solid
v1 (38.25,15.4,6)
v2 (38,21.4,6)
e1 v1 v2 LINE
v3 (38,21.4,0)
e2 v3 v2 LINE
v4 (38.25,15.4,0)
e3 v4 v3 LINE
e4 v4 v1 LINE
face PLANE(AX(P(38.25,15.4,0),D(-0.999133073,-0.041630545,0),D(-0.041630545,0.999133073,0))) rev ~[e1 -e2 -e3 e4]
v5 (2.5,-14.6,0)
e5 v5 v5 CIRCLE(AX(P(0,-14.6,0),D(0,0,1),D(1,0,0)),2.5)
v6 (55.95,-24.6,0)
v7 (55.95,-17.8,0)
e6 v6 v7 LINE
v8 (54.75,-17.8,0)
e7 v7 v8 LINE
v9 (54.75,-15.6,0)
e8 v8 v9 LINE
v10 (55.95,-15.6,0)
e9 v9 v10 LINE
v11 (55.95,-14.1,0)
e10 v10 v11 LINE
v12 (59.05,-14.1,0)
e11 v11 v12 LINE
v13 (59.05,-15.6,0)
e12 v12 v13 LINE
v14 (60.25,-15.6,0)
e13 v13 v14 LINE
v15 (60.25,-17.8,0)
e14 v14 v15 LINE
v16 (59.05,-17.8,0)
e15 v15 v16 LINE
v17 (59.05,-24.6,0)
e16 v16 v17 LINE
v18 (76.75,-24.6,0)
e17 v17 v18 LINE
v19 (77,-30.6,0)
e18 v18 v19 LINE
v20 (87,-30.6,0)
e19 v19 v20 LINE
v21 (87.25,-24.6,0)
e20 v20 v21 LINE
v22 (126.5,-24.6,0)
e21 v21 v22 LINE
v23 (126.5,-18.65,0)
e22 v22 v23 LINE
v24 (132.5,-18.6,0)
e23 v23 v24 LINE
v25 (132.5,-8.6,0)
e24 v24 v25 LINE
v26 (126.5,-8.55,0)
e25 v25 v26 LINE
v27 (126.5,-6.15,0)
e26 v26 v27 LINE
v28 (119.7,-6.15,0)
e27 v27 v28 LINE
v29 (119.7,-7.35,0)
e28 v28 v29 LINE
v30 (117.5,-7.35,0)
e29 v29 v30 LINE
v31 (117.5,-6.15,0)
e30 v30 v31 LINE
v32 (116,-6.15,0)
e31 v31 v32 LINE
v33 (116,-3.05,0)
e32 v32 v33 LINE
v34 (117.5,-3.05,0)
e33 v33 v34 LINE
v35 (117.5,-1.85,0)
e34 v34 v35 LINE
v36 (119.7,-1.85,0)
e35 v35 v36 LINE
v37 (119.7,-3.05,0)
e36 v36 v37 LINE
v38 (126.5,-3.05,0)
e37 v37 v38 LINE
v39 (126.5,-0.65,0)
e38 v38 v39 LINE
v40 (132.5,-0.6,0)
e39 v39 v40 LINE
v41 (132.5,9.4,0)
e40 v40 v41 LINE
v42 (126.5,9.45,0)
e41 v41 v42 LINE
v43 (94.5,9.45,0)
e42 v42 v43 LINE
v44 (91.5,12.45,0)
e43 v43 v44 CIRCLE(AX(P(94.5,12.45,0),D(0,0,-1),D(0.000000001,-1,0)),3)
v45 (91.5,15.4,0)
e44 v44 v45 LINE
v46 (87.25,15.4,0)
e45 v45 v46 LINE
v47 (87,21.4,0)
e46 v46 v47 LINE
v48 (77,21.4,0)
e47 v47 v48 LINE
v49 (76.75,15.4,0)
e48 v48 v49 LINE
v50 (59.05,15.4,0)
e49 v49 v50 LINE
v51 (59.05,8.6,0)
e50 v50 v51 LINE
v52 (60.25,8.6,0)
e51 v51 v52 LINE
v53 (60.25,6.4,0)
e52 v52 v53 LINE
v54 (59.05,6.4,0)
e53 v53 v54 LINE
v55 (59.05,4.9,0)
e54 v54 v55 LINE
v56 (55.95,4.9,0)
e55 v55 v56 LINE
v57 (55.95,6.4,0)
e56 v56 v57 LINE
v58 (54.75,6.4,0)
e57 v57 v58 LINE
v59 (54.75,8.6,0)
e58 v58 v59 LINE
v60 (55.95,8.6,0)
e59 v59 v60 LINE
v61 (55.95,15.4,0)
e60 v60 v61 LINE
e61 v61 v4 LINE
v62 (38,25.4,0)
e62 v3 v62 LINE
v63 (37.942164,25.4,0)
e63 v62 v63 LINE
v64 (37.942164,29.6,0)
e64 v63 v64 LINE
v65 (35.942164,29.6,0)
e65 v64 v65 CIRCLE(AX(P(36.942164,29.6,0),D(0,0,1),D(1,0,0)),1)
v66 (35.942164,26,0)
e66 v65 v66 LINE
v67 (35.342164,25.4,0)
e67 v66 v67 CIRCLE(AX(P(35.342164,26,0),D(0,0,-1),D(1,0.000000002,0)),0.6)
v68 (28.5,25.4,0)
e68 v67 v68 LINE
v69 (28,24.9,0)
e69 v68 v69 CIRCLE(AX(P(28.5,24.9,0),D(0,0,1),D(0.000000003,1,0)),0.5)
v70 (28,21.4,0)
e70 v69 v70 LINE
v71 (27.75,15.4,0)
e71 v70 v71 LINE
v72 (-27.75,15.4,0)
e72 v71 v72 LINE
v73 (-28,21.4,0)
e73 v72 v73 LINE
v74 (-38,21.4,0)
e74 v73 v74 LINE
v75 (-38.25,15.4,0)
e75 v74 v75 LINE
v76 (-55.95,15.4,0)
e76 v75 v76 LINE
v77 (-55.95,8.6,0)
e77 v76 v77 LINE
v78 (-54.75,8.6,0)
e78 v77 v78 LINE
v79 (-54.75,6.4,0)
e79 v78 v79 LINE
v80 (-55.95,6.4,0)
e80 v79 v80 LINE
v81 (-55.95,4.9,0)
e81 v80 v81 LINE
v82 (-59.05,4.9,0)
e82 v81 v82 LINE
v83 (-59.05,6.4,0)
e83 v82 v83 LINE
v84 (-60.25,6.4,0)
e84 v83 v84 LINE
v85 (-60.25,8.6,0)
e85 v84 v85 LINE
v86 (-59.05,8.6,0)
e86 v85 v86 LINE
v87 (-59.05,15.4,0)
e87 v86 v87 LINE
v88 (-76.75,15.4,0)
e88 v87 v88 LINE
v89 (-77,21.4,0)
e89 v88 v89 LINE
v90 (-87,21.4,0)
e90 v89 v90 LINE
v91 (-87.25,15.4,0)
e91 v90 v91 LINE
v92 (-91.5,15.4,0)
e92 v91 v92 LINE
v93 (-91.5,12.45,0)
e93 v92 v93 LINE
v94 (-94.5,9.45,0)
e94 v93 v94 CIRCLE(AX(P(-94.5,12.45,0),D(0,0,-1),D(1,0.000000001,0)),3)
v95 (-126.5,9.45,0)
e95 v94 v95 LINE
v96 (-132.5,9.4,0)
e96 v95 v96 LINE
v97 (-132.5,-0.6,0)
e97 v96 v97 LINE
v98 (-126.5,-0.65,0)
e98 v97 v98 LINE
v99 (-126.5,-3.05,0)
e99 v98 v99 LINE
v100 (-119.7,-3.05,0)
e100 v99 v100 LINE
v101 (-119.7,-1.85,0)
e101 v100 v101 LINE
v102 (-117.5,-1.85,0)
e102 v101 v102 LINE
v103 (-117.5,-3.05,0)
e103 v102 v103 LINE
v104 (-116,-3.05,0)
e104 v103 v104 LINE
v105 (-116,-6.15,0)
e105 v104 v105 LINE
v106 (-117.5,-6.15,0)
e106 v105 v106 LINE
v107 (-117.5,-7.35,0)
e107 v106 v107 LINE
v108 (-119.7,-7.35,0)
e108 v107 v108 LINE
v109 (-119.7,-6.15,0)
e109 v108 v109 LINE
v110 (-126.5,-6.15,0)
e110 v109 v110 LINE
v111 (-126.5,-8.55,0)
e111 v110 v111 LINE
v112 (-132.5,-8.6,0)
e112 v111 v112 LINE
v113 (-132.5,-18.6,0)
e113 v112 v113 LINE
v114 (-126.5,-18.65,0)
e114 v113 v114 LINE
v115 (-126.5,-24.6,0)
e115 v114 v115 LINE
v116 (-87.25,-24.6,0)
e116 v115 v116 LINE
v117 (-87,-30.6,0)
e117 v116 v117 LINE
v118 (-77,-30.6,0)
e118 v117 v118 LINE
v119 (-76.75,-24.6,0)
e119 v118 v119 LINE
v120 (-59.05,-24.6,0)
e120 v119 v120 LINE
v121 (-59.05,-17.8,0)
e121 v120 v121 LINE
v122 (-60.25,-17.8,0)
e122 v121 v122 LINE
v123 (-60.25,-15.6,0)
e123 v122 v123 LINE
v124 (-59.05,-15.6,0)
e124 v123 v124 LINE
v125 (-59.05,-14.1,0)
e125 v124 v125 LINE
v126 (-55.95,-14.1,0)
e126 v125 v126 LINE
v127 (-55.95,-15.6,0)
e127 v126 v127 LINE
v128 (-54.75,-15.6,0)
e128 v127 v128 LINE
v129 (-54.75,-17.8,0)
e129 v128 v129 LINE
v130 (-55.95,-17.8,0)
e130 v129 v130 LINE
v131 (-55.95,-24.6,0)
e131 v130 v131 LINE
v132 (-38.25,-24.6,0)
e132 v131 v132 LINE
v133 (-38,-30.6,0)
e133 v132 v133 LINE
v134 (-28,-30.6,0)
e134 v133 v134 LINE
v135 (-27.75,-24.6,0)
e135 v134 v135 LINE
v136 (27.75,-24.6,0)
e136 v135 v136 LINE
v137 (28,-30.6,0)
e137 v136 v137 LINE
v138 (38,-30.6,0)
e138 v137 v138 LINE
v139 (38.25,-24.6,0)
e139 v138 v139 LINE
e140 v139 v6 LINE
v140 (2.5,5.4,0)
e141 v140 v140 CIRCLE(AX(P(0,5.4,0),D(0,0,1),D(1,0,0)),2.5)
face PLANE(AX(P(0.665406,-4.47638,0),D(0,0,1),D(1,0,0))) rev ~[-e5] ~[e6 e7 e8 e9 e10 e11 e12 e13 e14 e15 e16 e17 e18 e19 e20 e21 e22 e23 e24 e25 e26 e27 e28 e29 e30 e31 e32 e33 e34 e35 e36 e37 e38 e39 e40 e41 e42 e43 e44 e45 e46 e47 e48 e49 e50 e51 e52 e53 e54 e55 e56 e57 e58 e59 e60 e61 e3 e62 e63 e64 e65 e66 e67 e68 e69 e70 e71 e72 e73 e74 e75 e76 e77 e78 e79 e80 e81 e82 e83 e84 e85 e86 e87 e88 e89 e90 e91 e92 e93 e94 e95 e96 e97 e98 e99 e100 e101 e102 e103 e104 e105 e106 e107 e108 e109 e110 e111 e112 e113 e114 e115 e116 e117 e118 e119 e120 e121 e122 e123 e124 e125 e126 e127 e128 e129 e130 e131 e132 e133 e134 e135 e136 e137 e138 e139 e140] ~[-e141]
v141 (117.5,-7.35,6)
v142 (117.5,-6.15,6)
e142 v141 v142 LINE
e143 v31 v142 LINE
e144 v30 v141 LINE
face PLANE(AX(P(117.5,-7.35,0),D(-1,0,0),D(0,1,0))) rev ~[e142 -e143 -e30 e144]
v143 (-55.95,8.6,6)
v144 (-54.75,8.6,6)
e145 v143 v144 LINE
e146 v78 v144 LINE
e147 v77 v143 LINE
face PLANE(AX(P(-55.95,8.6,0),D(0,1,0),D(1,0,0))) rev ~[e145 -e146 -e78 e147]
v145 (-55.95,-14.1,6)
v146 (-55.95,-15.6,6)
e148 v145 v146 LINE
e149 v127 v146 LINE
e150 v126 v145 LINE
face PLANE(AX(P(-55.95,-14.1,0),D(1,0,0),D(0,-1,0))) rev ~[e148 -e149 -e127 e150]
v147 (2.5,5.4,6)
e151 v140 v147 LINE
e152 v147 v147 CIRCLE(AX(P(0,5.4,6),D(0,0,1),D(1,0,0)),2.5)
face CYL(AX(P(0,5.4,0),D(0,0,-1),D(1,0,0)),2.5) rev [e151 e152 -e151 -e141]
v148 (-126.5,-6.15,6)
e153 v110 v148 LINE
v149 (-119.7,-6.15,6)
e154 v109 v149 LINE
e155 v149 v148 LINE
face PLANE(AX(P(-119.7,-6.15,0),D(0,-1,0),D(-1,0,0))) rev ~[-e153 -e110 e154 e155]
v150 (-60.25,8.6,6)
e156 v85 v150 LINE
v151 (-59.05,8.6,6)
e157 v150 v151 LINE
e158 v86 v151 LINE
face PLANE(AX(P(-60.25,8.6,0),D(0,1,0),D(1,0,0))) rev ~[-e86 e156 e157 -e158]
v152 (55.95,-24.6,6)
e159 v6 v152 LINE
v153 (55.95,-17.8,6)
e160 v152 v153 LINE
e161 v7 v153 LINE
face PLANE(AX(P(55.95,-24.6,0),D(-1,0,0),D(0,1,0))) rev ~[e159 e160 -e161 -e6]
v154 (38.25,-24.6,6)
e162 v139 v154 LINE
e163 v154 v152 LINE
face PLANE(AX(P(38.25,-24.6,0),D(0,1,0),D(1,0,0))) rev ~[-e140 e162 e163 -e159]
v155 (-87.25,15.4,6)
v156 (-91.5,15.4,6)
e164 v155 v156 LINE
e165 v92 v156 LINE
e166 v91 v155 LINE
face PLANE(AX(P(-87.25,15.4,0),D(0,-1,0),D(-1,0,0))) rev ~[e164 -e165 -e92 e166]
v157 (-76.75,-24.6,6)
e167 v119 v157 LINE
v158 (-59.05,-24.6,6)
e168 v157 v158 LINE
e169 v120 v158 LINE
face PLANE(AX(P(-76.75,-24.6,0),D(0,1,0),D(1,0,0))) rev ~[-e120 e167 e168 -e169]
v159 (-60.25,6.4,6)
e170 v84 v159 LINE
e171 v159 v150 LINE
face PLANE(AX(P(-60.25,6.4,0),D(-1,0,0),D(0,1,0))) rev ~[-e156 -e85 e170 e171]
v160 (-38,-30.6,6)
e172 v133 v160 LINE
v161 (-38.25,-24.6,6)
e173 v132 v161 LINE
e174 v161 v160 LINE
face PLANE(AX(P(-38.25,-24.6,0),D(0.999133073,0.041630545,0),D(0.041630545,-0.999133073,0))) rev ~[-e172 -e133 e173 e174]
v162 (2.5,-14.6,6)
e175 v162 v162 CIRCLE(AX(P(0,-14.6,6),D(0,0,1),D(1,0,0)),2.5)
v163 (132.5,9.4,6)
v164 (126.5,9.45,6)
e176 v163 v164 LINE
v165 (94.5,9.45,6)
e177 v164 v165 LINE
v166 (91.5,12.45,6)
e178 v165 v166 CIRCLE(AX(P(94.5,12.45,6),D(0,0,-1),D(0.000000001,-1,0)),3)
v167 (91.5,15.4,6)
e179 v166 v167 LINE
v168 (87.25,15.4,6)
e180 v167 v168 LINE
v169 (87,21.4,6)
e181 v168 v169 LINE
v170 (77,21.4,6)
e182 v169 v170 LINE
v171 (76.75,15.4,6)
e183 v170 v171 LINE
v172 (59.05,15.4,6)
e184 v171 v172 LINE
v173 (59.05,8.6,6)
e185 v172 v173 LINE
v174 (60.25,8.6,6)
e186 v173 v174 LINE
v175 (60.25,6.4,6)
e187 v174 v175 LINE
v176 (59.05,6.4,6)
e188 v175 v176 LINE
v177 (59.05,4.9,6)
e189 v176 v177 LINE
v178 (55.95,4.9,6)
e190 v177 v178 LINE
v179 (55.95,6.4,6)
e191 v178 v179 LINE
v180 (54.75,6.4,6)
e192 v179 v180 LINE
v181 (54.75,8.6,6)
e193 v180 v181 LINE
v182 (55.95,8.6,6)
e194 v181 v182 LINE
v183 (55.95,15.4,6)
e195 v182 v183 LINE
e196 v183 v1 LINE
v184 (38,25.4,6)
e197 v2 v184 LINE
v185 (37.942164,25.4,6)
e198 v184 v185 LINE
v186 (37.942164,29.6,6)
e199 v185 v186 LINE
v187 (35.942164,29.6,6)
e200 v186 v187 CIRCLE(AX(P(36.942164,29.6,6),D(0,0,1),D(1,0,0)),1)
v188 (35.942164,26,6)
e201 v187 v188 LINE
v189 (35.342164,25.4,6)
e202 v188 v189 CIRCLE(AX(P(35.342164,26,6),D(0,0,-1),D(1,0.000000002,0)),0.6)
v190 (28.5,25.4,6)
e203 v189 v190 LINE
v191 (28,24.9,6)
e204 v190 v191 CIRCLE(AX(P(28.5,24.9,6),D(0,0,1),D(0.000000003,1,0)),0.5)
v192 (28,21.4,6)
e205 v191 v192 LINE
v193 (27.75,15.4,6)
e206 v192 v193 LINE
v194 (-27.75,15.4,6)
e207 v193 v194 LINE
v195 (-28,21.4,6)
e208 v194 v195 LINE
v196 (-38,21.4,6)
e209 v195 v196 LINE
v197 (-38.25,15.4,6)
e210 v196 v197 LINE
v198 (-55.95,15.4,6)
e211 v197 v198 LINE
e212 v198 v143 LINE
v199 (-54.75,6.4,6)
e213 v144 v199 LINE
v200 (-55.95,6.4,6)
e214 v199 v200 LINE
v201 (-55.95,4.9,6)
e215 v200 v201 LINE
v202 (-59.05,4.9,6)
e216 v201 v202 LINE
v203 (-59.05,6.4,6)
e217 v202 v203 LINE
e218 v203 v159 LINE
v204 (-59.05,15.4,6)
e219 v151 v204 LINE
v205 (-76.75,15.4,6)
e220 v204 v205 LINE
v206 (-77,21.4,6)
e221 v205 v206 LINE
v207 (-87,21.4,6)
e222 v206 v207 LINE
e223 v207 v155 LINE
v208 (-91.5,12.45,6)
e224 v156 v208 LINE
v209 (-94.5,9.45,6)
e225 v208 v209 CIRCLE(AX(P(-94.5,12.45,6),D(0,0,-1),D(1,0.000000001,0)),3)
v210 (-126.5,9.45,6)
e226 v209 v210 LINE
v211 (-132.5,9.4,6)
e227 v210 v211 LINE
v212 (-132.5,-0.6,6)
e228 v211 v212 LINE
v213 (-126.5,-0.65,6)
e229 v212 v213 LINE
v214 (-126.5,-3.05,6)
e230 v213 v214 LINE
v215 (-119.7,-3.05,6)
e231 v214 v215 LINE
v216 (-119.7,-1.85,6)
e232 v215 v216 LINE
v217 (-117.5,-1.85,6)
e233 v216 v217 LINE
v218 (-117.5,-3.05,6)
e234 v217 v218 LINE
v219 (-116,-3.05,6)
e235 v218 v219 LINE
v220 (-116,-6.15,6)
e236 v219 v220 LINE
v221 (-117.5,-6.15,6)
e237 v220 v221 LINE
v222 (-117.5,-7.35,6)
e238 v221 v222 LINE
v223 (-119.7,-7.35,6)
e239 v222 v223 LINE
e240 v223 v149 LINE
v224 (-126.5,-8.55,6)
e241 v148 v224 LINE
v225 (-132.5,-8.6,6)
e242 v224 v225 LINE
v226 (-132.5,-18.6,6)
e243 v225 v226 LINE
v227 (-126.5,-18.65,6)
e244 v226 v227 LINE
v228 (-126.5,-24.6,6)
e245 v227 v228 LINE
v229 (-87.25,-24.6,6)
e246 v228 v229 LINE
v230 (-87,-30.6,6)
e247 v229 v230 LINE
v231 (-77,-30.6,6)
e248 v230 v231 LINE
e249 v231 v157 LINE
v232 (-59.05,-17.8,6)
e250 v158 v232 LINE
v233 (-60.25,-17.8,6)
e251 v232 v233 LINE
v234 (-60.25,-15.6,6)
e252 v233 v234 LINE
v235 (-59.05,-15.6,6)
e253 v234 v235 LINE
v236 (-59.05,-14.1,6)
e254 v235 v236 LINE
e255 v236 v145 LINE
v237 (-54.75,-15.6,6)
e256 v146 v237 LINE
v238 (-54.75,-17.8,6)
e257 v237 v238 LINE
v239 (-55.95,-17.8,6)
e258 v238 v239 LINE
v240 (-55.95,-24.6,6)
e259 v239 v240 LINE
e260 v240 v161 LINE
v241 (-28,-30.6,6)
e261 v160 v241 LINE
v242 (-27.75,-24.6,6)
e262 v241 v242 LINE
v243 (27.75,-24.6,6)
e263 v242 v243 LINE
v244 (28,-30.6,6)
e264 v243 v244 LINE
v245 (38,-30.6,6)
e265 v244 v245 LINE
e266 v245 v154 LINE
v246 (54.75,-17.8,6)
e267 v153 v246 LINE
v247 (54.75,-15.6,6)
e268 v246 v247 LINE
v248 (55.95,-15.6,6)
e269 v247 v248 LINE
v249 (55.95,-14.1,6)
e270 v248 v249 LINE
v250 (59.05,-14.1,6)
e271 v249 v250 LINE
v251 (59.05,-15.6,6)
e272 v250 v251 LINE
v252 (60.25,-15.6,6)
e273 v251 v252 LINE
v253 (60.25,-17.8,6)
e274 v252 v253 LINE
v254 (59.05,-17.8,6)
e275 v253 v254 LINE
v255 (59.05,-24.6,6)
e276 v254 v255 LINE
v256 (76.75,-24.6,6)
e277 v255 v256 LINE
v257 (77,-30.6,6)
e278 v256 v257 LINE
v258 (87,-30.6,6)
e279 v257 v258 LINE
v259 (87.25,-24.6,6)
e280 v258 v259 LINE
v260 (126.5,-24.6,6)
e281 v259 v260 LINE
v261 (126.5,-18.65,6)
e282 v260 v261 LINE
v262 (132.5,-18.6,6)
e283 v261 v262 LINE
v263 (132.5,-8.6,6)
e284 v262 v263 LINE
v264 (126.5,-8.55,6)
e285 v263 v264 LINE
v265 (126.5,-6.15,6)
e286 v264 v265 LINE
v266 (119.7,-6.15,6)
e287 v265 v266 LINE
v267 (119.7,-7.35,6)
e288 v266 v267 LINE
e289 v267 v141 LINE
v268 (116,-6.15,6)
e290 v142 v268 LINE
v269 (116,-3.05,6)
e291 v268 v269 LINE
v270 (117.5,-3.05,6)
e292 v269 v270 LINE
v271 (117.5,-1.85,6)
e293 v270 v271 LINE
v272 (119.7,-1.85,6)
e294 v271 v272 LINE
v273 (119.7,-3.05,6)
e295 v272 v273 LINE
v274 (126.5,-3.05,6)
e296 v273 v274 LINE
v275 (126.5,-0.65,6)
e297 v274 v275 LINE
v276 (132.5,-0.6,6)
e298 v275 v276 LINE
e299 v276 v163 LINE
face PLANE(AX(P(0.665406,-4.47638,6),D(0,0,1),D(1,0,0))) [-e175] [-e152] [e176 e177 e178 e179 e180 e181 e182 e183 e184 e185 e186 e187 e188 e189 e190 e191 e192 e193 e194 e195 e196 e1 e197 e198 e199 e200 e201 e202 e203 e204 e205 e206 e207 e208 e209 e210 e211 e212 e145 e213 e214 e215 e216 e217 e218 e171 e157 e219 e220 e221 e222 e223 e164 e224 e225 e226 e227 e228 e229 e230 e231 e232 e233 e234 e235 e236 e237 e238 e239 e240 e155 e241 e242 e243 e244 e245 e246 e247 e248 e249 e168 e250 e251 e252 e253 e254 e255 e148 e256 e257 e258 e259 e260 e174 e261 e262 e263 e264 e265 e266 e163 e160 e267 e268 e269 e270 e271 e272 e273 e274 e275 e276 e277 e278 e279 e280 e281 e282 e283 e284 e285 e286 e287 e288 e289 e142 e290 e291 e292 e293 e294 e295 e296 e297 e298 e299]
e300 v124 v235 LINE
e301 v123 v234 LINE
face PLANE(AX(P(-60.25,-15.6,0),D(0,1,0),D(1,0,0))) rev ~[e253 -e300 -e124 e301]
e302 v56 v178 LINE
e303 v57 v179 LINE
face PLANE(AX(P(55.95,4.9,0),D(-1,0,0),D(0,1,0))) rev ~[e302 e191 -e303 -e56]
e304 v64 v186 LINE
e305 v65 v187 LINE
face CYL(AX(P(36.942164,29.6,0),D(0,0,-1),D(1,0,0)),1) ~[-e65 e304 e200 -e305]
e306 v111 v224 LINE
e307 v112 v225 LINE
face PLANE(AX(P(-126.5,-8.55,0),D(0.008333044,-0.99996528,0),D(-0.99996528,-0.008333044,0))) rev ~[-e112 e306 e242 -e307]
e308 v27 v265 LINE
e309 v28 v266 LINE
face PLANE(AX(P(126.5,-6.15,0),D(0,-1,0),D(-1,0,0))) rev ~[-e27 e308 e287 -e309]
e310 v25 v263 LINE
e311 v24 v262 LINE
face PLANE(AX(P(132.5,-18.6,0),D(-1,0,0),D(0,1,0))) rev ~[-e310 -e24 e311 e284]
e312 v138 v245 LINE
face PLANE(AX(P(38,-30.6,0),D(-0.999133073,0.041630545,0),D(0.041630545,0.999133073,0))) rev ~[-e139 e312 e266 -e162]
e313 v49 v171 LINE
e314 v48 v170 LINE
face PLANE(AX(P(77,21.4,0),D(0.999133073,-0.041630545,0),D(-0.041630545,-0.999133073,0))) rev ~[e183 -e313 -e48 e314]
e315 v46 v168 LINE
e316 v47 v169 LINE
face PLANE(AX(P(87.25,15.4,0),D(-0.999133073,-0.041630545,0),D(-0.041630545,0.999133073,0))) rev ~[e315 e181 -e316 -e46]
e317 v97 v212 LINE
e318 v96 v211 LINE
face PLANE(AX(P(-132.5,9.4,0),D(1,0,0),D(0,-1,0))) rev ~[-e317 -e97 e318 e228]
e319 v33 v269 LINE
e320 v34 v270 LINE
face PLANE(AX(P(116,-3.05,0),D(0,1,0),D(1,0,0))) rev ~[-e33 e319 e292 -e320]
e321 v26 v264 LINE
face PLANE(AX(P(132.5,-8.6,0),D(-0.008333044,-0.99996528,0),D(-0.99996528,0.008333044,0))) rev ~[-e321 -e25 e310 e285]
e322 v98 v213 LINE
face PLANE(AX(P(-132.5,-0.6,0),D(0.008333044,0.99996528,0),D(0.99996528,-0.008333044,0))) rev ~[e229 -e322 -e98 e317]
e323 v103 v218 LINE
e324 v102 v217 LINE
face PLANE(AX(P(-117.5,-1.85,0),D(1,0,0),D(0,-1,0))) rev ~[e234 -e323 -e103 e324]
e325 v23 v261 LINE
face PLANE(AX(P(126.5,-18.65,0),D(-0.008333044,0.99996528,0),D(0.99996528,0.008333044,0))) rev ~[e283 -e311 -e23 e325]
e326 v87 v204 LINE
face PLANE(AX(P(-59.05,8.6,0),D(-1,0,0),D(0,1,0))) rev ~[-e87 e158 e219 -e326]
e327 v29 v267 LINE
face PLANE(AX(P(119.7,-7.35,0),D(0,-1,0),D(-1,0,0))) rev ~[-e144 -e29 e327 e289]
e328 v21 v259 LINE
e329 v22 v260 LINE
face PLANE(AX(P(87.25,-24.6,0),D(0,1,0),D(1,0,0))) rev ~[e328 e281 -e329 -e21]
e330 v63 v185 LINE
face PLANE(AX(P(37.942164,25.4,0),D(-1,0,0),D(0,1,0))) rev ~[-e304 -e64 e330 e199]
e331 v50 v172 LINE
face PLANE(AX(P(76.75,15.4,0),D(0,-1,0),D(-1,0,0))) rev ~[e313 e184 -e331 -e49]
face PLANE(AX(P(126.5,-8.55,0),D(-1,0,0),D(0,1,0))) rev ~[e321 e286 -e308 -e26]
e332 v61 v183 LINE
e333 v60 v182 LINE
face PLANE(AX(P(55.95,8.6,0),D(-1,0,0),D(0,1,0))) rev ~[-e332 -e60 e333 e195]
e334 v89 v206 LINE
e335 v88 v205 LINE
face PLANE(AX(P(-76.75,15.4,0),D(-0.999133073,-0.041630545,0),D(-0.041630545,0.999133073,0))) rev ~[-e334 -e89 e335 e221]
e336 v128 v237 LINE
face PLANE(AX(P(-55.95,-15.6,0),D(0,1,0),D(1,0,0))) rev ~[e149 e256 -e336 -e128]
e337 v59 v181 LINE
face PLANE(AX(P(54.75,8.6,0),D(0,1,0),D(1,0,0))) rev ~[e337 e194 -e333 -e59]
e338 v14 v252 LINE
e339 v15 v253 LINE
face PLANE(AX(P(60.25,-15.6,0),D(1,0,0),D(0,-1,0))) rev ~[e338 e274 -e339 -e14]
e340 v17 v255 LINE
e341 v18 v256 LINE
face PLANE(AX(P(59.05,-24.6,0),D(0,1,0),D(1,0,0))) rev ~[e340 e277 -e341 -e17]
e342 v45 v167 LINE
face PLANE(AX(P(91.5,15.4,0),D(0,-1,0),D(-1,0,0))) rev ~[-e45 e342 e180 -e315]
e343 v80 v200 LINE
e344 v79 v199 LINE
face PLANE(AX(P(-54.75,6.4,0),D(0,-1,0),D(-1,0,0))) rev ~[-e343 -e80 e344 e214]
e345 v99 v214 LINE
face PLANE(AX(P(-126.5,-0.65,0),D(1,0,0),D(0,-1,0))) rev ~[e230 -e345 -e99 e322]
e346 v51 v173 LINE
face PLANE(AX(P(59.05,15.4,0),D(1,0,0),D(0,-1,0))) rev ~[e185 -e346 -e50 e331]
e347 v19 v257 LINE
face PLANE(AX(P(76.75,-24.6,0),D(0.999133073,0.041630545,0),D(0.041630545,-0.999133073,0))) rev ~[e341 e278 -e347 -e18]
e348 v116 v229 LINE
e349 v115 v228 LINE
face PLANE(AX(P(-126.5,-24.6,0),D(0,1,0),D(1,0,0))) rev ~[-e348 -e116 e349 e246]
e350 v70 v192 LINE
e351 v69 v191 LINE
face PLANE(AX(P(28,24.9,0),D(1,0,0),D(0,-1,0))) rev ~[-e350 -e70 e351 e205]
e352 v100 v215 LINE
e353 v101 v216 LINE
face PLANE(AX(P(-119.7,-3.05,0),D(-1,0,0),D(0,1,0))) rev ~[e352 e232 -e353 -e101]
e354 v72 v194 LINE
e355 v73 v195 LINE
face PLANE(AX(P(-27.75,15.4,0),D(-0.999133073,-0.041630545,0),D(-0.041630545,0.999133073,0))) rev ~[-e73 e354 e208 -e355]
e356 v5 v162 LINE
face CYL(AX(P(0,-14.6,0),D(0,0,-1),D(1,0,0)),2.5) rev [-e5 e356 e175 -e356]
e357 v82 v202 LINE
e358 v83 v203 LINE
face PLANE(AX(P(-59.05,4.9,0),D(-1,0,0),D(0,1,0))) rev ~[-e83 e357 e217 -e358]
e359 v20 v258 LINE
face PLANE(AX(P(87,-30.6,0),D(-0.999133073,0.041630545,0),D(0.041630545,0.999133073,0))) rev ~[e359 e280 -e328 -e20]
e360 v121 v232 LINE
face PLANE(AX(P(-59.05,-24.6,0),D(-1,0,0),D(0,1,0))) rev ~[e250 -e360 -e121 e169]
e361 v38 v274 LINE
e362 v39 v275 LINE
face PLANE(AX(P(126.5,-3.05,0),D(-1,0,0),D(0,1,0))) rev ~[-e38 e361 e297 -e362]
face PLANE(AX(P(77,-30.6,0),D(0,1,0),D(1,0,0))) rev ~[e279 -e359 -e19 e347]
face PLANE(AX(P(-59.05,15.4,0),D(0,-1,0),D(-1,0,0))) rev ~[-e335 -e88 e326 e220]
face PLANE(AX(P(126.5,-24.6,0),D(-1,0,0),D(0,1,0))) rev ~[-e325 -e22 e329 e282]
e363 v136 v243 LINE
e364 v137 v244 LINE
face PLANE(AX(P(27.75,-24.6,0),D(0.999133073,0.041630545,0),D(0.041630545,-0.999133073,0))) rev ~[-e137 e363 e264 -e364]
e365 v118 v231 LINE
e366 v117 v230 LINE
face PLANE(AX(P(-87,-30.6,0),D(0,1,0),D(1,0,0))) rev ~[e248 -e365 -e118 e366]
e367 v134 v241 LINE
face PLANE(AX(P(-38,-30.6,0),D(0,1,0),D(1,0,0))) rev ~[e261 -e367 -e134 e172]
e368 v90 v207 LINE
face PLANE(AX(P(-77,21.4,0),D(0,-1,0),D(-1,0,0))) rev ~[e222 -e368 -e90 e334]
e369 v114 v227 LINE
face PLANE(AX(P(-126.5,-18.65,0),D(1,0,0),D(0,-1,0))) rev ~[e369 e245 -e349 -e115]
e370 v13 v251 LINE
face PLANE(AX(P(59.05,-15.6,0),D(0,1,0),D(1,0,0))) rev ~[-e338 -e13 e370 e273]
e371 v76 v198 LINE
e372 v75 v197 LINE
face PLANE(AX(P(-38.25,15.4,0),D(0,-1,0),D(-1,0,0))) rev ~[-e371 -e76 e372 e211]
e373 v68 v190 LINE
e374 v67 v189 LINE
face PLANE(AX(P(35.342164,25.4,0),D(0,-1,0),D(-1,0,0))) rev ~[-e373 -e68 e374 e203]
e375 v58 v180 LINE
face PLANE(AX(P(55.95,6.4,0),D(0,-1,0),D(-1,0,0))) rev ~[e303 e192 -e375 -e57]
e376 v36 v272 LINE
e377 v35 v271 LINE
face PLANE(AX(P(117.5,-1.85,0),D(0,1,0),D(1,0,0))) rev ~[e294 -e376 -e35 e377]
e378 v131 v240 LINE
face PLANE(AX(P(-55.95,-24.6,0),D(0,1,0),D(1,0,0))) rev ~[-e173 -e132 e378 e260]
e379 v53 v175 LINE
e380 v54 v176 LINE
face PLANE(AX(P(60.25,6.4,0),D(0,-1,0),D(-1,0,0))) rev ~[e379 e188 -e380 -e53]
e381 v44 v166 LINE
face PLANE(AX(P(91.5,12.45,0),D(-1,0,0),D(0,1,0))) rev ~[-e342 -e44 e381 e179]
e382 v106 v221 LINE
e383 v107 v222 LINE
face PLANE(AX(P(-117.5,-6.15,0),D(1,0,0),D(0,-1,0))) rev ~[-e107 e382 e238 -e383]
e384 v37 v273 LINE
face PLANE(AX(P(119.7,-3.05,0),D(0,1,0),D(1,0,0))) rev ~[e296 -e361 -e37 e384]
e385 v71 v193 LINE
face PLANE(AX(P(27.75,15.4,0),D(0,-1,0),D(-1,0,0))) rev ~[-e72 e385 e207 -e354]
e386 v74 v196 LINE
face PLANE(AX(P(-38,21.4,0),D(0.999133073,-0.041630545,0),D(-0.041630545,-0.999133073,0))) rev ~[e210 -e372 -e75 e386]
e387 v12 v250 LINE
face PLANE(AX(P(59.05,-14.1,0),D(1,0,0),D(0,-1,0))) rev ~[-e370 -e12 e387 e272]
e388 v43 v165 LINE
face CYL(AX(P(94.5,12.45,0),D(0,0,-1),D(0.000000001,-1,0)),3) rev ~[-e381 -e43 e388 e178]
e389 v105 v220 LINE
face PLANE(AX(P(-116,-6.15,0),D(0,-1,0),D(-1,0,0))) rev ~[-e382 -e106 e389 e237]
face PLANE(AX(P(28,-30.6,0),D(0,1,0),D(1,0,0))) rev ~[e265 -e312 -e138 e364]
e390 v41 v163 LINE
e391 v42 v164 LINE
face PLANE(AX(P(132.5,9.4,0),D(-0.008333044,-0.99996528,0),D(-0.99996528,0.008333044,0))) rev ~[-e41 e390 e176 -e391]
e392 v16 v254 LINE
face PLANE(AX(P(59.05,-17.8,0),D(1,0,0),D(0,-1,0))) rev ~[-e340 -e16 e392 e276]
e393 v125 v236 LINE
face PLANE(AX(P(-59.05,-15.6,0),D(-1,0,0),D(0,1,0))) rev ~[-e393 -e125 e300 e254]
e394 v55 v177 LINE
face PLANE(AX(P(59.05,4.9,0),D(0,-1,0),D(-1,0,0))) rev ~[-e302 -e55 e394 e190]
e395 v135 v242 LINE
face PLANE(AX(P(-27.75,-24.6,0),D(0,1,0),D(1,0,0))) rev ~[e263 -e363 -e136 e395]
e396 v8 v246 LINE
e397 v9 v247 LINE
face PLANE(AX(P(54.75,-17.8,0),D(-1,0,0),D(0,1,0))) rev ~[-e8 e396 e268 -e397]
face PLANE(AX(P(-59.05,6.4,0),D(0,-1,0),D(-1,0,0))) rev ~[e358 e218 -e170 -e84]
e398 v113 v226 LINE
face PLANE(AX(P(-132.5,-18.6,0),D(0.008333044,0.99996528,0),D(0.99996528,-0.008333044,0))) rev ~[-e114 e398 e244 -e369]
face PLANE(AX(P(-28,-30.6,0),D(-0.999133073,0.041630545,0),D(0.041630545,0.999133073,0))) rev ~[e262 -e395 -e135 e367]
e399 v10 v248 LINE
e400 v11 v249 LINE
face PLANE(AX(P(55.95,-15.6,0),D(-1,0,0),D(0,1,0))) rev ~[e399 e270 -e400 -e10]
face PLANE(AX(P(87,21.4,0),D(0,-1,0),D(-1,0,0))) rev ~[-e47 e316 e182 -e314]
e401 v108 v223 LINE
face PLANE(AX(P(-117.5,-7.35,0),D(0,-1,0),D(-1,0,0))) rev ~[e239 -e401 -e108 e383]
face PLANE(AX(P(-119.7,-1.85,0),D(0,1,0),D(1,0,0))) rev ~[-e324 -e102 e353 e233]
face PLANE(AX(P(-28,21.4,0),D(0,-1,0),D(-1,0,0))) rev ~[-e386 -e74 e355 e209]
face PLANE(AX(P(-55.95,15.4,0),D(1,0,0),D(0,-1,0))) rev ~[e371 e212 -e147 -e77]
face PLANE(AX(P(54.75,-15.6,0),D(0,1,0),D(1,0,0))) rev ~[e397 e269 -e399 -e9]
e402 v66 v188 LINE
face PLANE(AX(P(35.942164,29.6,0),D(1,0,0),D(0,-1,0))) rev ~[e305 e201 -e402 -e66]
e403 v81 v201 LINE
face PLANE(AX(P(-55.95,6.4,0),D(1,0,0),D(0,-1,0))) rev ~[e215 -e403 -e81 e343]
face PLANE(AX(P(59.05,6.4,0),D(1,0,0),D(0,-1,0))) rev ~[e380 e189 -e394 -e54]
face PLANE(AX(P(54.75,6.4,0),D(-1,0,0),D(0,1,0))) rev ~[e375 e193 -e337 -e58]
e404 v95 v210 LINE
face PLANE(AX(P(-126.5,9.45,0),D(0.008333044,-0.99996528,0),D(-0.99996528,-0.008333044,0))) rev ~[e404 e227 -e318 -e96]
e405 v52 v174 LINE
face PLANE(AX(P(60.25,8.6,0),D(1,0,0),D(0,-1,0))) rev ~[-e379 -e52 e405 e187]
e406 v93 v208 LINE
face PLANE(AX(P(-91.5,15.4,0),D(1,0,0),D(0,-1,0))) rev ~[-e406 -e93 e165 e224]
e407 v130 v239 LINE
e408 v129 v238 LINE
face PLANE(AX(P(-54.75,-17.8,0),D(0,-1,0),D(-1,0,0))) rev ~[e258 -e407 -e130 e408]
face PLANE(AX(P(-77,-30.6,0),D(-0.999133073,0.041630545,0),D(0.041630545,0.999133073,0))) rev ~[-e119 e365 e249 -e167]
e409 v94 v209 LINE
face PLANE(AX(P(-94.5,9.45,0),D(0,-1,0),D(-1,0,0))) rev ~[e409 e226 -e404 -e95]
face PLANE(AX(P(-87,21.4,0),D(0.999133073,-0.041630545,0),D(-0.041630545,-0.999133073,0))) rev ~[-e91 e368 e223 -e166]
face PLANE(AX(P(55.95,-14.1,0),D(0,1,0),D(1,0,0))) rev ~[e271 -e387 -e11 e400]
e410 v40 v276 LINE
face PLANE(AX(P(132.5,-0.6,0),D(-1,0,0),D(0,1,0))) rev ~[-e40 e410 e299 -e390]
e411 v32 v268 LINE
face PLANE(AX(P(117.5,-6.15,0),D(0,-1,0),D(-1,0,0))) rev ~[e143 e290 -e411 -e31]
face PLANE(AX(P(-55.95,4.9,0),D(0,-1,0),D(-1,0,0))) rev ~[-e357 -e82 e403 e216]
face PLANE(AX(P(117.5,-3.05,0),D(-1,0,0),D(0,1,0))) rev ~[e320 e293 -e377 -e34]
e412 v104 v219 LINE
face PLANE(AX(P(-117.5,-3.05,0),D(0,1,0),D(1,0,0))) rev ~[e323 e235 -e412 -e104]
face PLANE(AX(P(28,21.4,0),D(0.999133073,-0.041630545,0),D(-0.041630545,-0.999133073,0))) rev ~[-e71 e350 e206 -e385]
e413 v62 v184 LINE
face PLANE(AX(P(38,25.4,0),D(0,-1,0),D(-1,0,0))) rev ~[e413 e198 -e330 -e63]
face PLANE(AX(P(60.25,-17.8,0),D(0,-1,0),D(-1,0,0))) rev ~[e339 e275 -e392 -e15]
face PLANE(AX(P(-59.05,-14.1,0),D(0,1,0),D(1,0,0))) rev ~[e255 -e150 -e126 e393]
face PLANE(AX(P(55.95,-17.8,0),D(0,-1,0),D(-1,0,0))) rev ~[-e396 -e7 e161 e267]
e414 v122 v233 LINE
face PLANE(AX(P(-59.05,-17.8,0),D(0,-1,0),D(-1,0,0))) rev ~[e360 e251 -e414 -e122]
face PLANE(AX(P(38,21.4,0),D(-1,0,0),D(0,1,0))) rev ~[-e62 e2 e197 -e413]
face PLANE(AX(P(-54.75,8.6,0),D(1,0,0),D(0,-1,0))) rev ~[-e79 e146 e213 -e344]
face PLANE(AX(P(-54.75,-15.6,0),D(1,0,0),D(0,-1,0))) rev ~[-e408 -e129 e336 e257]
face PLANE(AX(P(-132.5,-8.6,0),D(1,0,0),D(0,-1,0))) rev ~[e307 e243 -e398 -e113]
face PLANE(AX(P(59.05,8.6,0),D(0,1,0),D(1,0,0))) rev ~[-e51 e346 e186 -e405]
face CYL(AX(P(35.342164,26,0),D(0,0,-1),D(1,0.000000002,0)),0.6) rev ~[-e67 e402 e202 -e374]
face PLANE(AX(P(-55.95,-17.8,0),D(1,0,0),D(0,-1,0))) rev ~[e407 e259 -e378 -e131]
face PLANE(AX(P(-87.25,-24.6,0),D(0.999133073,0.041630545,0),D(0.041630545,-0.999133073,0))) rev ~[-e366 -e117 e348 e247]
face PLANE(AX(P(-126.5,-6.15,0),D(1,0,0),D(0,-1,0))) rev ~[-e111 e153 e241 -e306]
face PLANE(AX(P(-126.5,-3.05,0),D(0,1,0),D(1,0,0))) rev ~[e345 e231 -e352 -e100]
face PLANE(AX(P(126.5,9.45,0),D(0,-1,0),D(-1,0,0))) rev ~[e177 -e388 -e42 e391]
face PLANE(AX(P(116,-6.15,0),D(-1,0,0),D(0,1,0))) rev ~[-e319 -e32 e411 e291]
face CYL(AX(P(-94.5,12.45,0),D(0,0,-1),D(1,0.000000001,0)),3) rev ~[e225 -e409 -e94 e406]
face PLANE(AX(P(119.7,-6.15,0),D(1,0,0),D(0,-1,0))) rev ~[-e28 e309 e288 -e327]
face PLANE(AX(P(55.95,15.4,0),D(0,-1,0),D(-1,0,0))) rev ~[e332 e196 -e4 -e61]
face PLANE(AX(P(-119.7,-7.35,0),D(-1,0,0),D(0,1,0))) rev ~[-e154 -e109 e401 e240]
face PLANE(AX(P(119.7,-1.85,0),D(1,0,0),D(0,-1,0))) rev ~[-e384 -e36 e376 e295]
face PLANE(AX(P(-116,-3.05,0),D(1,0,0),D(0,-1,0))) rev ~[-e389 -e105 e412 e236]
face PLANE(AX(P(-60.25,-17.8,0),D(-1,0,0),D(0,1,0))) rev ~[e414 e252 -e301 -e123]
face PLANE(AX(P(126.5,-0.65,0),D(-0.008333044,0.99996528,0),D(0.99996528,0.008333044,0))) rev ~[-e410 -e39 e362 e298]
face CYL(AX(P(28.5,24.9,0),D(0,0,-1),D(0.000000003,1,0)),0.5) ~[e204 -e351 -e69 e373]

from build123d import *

# Parameters (mm, degrees)
SKETCH_1_R      = 2.5
EXTRUDE_1_DEPTH = 6


with BuildPart() as part:
    # Эскиз1 → Бобышка-Вытянуть1 (new body)
    with BuildSketch(Plane.XY):
        with BuildLine():
            Line((-28, -30.6), (-27.75, -24.6))
            Line((-27.75, -24.6), (27.75, -24.6))
            Line((27.75, -24.6), (28, -30.6))
            Line((28, -30.6), (38, -30.6))
            Line((38, -30.6), (38.25, -24.6))
            Line((38.25, -24.6), (55.95, -24.6))
            Line((55.95, -24.6), (55.95, -17.8))
            Line((55.95, -17.8), (54.75, -17.8))
            Line((54.75, -17.8), (54.75, -15.6))
            Line((54.75, -15.6), (55.95, -15.6))
            Line((55.95, -15.6), (55.95, -14.1))
            Line((55.95, -14.1), (59.05, -14.1))
            Line((59.05, -14.1), (59.05, -15.6))
            Line((59.05, -15.6), (60.25, -15.6))
            Line((60.25, -15.6), (60.25, -17.8))
            Line((60.25, -17.8), (59.05, -17.8))
            Line((59.05, -17.8), (59.05, -24.6))
            Line((59.05, -24.6), (71.55, -24.6))
            Line((71.55, -24.6), (76.75, -24.6))
            Line((76.75, -24.6), (77, -30.6))
            Line((77, -30.6), (87, -30.6))
            Line((87, -30.6), (87.25, -24.6))
            Line((87.25, -24.6), (126.5, -24.6))
            Line((126.5, -24.6), (126.5, -18.65))
            Line((126.5, -18.65), (132.5, -18.6))
            Line((132.5, -18.6), (132.5, -8.6))
            Line((132.5, -8.6), (126.5, -8.55))
            Line((126.5, -8.55), (126.5, -6.15))
            Line((126.5, -6.15), (119.7, -6.15))
            Line((119.7, -6.15), (119.7, -7.35))
            Line((119.7, -7.35), (117.5, -7.35))
            Line((117.5, -7.35), (117.5, -6.15))
            Line((117.5, -6.15), (116, -6.15))
            Line((116, -6.15), (116, -3.05))
            Line((116, -3.05), (117.5, -3.05))
            Line((117.5, -3.05), (117.5, -1.85))
            Line((117.5, -1.85), (119.7, -1.85))
            Line((119.7, -1.85), (119.7, -3.05))
            Line((119.7, -3.05), (126.5, -3.05))
            Line((126.5, -3.05), (126.5, -0.65))
            Line((126.5, -0.65), (132.5, -0.6))
            Line((132.5, -0.6), (132.5, 9.4))
            Line((132.5, 9.4), (126.5, 9.45))
            Line((126.5, 9.45), (94.5, 9.45))
            ThreePointArc((94.5, 9.45), (92.378679656, 10.328679656), (91.5, 12.45))
            Line((91.5, 12.45), (91.5, 15.4))
            Line((91.5, 15.4), (87.25, 15.4))
            Line((87.25, 15.4), (87, 21.4))
            Line((87, 21.4), (77, 21.4))
            Line((77, 21.4), (76.75, 15.4))
            Line((76.75, 15.4), (59.05, 15.4))
            Line((59.05, 15.4), (59.05, 8.6))
            Line((59.05, 8.6), (60.25, 8.6))
            Line((60.25, 8.6), (60.25, 6.4))
            Line((60.25, 6.4), (59.05, 6.4))
            Line((59.05, 6.4), (59.05, 4.9))
            Line((59.05, 4.9), (55.95, 4.9))
            Line((55.95, 4.9), (55.95, 6.4))
            Line((55.95, 6.4), (54.75, 6.4))
            Line((54.75, 6.4), (54.75, 8.6))
            Line((54.75, 8.6), (55.95, 8.6))
            Line((55.95, 8.6), (55.95, 15.4))
            Line((55.95, 15.4), (38.25, 15.4))
            Line((38.25, 15.4), (38, 21.4))
            Line((38, 21.4), (38, 25.4))
            Line((38, 25.4), (37.942164229, 25.4))
            Line((37.942164229, 25.4), (37.942164229, 29.6))
            ThreePointArc((37.942164229, 29.6), (36.942164229, 30.6), (35.942164229, 29.6))
            Line((35.942164229, 29.6), (35.942164229, 26))
            ThreePointArc((35.942164229, 26), (35.766428298, 25.575735931), (35.342164229, 25.4))
            Line((35.342164229, 25.4), (28.5, 25.4))
            ThreePointArc((28.5, 25.4), (28.146446609, 25.253553391), (28, 24.9))
            Line((28, 24.9), (28, 21.4))
            Line((28, 21.4), (27.75, 15.4))
            Line((27.75, 15.4), (-27.75, 15.4))
            Line((-27.75, 15.4), (-28, 21.4))
            Line((-28, 21.4), (-38, 21.4))
            Line((-38, 21.4), (-38.25, 15.4))
            Line((-38.25, 15.4), (-43.45, 15.4))
            Line((-43.45, 15.4), (-55.95, 15.4))
            Line((-55.95, 15.4), (-55.95, 8.6))
            Line((-55.95, 8.6), (-54.75, 8.6))
            Line((-54.75, 8.6), (-54.75, 6.4))
            Line((-54.75, 6.4), (-55.95, 6.4))
            Line((-55.95, 6.4), (-55.95, 4.9))
            Line((-55.95, 4.9), (-59.05, 4.9))
            Line((-59.05, 4.9), (-59.05, 6.4))
            Line((-59.05, 6.4), (-60.25, 6.4))
            Line((-60.25, 6.4), (-60.25, 8.6))
            Line((-60.25, 8.6), (-59.05, 8.6))
            Line((-59.05, 8.6), (-59.05, 15.4))
            Line((-59.05, 15.4), (-64.25, 15.4))
            Line((-64.25, 15.4), (-76.75, 15.4))
            Line((-76.75, 15.4), (-77, 21.4))
            Line((-77, 21.4), (-87, 21.4))
            Line((-87, 21.4), (-87.25, 15.4))
            Line((-87.25, 15.4), (-91.5, 15.4))
            Line((-91.5, 15.4), (-91.5, 12.45))
            ThreePointArc((-91.5, 12.45), (-92.378679656, 10.328679656), (-94.5, 9.45))
            Line((-94.5, 9.45), (-126.5, 9.45))
            Line((-126.5, 9.45), (-132.5, 9.4))
            Line((-132.5, 9.4), (-132.5, -0.6))
            Line((-132.5, -0.6), (-126.5, -0.65))
            Line((-126.5, -0.65), (-126.5, -3.05))
            Line((-126.5, -3.05), (-119.7, -3.05))
            Line((-119.7, -3.05), (-119.7, -1.85))
            Line((-119.7, -1.85), (-117.5, -1.85))
            Line((-117.5, -1.85), (-117.5, -3.05))
            Line((-117.5, -3.05), (-116, -3.05))
            Line((-116, -3.05), (-116, -6.15))
            Line((-116, -6.15), (-117.5, -6.15))
            Line((-117.5, -6.15), (-117.5, -7.35))
            Line((-117.5, -7.35), (-119.7, -7.35))
            Line((-119.7, -7.35), (-119.7, -6.15))
            Line((-119.7, -6.15), (-126.5, -6.15))
            Line((-126.5, -6.15), (-126.5, -8.55))
            Line((-126.5, -8.55), (-132.5, -8.6))
            Line((-132.5, -8.6), (-132.5, -18.6))
            Line((-132.5, -18.6), (-126.5, -18.65))
            Line((-126.5, -18.65), (-126.5, -24.6))
            Line((-126.5, -24.6), (-87.25, -24.6))
            Line((-87.25, -24.6), (-87, -30.6))
            Line((-87, -30.6), (-77, -30.6))
            Line((-77, -30.6), (-76.75, -24.6))
            Line((-76.75, -24.6), (-64.25, -24.6))
            Line((-64.25, -24.6), (-59.05, -24.6))
            Line((-59.05, -24.6), (-59.05, -17.8))
            Line((-59.05, -17.8), (-60.25, -17.8))
            Line((-60.25, -17.8), (-60.25, -15.6))
            Line((-60.25, -15.6), (-59.05, -15.6))
            Line((-59.05, -15.6), (-59.05, -14.1))
            Line((-59.05, -14.1), (-55.95, -14.1))
            Line((-55.95, -14.1), (-55.95, -15.6))
            Line((-55.95, -15.6), (-54.75, -15.6))
            Line((-54.75, -15.6), (-54.75, -17.8))
            Line((-54.75, -17.8), (-55.95, -17.8))
            Line((-55.95, -17.8), (-55.95, -24.6))
            Line((-55.95, -24.6), (-43.45, -24.6))
            Line((-43.45, -24.6), (-38.25, -24.6))
            Line((-38.25, -24.6), (-38, -30.6))
            Line((-38, -30.6), (-28, -30.6))
        make_face()
        with Locations((0, -14.6)):
            Circle(SKETCH_1_R, mode=Mode.SUBTRACT)
        with Locations((0, 5.4)):
            Circle(SKETCH_1_R, mode=Mode.SUBTRACT)
    extrude(amount=EXTRUDE_1_DEPTH)


solid = part.part
